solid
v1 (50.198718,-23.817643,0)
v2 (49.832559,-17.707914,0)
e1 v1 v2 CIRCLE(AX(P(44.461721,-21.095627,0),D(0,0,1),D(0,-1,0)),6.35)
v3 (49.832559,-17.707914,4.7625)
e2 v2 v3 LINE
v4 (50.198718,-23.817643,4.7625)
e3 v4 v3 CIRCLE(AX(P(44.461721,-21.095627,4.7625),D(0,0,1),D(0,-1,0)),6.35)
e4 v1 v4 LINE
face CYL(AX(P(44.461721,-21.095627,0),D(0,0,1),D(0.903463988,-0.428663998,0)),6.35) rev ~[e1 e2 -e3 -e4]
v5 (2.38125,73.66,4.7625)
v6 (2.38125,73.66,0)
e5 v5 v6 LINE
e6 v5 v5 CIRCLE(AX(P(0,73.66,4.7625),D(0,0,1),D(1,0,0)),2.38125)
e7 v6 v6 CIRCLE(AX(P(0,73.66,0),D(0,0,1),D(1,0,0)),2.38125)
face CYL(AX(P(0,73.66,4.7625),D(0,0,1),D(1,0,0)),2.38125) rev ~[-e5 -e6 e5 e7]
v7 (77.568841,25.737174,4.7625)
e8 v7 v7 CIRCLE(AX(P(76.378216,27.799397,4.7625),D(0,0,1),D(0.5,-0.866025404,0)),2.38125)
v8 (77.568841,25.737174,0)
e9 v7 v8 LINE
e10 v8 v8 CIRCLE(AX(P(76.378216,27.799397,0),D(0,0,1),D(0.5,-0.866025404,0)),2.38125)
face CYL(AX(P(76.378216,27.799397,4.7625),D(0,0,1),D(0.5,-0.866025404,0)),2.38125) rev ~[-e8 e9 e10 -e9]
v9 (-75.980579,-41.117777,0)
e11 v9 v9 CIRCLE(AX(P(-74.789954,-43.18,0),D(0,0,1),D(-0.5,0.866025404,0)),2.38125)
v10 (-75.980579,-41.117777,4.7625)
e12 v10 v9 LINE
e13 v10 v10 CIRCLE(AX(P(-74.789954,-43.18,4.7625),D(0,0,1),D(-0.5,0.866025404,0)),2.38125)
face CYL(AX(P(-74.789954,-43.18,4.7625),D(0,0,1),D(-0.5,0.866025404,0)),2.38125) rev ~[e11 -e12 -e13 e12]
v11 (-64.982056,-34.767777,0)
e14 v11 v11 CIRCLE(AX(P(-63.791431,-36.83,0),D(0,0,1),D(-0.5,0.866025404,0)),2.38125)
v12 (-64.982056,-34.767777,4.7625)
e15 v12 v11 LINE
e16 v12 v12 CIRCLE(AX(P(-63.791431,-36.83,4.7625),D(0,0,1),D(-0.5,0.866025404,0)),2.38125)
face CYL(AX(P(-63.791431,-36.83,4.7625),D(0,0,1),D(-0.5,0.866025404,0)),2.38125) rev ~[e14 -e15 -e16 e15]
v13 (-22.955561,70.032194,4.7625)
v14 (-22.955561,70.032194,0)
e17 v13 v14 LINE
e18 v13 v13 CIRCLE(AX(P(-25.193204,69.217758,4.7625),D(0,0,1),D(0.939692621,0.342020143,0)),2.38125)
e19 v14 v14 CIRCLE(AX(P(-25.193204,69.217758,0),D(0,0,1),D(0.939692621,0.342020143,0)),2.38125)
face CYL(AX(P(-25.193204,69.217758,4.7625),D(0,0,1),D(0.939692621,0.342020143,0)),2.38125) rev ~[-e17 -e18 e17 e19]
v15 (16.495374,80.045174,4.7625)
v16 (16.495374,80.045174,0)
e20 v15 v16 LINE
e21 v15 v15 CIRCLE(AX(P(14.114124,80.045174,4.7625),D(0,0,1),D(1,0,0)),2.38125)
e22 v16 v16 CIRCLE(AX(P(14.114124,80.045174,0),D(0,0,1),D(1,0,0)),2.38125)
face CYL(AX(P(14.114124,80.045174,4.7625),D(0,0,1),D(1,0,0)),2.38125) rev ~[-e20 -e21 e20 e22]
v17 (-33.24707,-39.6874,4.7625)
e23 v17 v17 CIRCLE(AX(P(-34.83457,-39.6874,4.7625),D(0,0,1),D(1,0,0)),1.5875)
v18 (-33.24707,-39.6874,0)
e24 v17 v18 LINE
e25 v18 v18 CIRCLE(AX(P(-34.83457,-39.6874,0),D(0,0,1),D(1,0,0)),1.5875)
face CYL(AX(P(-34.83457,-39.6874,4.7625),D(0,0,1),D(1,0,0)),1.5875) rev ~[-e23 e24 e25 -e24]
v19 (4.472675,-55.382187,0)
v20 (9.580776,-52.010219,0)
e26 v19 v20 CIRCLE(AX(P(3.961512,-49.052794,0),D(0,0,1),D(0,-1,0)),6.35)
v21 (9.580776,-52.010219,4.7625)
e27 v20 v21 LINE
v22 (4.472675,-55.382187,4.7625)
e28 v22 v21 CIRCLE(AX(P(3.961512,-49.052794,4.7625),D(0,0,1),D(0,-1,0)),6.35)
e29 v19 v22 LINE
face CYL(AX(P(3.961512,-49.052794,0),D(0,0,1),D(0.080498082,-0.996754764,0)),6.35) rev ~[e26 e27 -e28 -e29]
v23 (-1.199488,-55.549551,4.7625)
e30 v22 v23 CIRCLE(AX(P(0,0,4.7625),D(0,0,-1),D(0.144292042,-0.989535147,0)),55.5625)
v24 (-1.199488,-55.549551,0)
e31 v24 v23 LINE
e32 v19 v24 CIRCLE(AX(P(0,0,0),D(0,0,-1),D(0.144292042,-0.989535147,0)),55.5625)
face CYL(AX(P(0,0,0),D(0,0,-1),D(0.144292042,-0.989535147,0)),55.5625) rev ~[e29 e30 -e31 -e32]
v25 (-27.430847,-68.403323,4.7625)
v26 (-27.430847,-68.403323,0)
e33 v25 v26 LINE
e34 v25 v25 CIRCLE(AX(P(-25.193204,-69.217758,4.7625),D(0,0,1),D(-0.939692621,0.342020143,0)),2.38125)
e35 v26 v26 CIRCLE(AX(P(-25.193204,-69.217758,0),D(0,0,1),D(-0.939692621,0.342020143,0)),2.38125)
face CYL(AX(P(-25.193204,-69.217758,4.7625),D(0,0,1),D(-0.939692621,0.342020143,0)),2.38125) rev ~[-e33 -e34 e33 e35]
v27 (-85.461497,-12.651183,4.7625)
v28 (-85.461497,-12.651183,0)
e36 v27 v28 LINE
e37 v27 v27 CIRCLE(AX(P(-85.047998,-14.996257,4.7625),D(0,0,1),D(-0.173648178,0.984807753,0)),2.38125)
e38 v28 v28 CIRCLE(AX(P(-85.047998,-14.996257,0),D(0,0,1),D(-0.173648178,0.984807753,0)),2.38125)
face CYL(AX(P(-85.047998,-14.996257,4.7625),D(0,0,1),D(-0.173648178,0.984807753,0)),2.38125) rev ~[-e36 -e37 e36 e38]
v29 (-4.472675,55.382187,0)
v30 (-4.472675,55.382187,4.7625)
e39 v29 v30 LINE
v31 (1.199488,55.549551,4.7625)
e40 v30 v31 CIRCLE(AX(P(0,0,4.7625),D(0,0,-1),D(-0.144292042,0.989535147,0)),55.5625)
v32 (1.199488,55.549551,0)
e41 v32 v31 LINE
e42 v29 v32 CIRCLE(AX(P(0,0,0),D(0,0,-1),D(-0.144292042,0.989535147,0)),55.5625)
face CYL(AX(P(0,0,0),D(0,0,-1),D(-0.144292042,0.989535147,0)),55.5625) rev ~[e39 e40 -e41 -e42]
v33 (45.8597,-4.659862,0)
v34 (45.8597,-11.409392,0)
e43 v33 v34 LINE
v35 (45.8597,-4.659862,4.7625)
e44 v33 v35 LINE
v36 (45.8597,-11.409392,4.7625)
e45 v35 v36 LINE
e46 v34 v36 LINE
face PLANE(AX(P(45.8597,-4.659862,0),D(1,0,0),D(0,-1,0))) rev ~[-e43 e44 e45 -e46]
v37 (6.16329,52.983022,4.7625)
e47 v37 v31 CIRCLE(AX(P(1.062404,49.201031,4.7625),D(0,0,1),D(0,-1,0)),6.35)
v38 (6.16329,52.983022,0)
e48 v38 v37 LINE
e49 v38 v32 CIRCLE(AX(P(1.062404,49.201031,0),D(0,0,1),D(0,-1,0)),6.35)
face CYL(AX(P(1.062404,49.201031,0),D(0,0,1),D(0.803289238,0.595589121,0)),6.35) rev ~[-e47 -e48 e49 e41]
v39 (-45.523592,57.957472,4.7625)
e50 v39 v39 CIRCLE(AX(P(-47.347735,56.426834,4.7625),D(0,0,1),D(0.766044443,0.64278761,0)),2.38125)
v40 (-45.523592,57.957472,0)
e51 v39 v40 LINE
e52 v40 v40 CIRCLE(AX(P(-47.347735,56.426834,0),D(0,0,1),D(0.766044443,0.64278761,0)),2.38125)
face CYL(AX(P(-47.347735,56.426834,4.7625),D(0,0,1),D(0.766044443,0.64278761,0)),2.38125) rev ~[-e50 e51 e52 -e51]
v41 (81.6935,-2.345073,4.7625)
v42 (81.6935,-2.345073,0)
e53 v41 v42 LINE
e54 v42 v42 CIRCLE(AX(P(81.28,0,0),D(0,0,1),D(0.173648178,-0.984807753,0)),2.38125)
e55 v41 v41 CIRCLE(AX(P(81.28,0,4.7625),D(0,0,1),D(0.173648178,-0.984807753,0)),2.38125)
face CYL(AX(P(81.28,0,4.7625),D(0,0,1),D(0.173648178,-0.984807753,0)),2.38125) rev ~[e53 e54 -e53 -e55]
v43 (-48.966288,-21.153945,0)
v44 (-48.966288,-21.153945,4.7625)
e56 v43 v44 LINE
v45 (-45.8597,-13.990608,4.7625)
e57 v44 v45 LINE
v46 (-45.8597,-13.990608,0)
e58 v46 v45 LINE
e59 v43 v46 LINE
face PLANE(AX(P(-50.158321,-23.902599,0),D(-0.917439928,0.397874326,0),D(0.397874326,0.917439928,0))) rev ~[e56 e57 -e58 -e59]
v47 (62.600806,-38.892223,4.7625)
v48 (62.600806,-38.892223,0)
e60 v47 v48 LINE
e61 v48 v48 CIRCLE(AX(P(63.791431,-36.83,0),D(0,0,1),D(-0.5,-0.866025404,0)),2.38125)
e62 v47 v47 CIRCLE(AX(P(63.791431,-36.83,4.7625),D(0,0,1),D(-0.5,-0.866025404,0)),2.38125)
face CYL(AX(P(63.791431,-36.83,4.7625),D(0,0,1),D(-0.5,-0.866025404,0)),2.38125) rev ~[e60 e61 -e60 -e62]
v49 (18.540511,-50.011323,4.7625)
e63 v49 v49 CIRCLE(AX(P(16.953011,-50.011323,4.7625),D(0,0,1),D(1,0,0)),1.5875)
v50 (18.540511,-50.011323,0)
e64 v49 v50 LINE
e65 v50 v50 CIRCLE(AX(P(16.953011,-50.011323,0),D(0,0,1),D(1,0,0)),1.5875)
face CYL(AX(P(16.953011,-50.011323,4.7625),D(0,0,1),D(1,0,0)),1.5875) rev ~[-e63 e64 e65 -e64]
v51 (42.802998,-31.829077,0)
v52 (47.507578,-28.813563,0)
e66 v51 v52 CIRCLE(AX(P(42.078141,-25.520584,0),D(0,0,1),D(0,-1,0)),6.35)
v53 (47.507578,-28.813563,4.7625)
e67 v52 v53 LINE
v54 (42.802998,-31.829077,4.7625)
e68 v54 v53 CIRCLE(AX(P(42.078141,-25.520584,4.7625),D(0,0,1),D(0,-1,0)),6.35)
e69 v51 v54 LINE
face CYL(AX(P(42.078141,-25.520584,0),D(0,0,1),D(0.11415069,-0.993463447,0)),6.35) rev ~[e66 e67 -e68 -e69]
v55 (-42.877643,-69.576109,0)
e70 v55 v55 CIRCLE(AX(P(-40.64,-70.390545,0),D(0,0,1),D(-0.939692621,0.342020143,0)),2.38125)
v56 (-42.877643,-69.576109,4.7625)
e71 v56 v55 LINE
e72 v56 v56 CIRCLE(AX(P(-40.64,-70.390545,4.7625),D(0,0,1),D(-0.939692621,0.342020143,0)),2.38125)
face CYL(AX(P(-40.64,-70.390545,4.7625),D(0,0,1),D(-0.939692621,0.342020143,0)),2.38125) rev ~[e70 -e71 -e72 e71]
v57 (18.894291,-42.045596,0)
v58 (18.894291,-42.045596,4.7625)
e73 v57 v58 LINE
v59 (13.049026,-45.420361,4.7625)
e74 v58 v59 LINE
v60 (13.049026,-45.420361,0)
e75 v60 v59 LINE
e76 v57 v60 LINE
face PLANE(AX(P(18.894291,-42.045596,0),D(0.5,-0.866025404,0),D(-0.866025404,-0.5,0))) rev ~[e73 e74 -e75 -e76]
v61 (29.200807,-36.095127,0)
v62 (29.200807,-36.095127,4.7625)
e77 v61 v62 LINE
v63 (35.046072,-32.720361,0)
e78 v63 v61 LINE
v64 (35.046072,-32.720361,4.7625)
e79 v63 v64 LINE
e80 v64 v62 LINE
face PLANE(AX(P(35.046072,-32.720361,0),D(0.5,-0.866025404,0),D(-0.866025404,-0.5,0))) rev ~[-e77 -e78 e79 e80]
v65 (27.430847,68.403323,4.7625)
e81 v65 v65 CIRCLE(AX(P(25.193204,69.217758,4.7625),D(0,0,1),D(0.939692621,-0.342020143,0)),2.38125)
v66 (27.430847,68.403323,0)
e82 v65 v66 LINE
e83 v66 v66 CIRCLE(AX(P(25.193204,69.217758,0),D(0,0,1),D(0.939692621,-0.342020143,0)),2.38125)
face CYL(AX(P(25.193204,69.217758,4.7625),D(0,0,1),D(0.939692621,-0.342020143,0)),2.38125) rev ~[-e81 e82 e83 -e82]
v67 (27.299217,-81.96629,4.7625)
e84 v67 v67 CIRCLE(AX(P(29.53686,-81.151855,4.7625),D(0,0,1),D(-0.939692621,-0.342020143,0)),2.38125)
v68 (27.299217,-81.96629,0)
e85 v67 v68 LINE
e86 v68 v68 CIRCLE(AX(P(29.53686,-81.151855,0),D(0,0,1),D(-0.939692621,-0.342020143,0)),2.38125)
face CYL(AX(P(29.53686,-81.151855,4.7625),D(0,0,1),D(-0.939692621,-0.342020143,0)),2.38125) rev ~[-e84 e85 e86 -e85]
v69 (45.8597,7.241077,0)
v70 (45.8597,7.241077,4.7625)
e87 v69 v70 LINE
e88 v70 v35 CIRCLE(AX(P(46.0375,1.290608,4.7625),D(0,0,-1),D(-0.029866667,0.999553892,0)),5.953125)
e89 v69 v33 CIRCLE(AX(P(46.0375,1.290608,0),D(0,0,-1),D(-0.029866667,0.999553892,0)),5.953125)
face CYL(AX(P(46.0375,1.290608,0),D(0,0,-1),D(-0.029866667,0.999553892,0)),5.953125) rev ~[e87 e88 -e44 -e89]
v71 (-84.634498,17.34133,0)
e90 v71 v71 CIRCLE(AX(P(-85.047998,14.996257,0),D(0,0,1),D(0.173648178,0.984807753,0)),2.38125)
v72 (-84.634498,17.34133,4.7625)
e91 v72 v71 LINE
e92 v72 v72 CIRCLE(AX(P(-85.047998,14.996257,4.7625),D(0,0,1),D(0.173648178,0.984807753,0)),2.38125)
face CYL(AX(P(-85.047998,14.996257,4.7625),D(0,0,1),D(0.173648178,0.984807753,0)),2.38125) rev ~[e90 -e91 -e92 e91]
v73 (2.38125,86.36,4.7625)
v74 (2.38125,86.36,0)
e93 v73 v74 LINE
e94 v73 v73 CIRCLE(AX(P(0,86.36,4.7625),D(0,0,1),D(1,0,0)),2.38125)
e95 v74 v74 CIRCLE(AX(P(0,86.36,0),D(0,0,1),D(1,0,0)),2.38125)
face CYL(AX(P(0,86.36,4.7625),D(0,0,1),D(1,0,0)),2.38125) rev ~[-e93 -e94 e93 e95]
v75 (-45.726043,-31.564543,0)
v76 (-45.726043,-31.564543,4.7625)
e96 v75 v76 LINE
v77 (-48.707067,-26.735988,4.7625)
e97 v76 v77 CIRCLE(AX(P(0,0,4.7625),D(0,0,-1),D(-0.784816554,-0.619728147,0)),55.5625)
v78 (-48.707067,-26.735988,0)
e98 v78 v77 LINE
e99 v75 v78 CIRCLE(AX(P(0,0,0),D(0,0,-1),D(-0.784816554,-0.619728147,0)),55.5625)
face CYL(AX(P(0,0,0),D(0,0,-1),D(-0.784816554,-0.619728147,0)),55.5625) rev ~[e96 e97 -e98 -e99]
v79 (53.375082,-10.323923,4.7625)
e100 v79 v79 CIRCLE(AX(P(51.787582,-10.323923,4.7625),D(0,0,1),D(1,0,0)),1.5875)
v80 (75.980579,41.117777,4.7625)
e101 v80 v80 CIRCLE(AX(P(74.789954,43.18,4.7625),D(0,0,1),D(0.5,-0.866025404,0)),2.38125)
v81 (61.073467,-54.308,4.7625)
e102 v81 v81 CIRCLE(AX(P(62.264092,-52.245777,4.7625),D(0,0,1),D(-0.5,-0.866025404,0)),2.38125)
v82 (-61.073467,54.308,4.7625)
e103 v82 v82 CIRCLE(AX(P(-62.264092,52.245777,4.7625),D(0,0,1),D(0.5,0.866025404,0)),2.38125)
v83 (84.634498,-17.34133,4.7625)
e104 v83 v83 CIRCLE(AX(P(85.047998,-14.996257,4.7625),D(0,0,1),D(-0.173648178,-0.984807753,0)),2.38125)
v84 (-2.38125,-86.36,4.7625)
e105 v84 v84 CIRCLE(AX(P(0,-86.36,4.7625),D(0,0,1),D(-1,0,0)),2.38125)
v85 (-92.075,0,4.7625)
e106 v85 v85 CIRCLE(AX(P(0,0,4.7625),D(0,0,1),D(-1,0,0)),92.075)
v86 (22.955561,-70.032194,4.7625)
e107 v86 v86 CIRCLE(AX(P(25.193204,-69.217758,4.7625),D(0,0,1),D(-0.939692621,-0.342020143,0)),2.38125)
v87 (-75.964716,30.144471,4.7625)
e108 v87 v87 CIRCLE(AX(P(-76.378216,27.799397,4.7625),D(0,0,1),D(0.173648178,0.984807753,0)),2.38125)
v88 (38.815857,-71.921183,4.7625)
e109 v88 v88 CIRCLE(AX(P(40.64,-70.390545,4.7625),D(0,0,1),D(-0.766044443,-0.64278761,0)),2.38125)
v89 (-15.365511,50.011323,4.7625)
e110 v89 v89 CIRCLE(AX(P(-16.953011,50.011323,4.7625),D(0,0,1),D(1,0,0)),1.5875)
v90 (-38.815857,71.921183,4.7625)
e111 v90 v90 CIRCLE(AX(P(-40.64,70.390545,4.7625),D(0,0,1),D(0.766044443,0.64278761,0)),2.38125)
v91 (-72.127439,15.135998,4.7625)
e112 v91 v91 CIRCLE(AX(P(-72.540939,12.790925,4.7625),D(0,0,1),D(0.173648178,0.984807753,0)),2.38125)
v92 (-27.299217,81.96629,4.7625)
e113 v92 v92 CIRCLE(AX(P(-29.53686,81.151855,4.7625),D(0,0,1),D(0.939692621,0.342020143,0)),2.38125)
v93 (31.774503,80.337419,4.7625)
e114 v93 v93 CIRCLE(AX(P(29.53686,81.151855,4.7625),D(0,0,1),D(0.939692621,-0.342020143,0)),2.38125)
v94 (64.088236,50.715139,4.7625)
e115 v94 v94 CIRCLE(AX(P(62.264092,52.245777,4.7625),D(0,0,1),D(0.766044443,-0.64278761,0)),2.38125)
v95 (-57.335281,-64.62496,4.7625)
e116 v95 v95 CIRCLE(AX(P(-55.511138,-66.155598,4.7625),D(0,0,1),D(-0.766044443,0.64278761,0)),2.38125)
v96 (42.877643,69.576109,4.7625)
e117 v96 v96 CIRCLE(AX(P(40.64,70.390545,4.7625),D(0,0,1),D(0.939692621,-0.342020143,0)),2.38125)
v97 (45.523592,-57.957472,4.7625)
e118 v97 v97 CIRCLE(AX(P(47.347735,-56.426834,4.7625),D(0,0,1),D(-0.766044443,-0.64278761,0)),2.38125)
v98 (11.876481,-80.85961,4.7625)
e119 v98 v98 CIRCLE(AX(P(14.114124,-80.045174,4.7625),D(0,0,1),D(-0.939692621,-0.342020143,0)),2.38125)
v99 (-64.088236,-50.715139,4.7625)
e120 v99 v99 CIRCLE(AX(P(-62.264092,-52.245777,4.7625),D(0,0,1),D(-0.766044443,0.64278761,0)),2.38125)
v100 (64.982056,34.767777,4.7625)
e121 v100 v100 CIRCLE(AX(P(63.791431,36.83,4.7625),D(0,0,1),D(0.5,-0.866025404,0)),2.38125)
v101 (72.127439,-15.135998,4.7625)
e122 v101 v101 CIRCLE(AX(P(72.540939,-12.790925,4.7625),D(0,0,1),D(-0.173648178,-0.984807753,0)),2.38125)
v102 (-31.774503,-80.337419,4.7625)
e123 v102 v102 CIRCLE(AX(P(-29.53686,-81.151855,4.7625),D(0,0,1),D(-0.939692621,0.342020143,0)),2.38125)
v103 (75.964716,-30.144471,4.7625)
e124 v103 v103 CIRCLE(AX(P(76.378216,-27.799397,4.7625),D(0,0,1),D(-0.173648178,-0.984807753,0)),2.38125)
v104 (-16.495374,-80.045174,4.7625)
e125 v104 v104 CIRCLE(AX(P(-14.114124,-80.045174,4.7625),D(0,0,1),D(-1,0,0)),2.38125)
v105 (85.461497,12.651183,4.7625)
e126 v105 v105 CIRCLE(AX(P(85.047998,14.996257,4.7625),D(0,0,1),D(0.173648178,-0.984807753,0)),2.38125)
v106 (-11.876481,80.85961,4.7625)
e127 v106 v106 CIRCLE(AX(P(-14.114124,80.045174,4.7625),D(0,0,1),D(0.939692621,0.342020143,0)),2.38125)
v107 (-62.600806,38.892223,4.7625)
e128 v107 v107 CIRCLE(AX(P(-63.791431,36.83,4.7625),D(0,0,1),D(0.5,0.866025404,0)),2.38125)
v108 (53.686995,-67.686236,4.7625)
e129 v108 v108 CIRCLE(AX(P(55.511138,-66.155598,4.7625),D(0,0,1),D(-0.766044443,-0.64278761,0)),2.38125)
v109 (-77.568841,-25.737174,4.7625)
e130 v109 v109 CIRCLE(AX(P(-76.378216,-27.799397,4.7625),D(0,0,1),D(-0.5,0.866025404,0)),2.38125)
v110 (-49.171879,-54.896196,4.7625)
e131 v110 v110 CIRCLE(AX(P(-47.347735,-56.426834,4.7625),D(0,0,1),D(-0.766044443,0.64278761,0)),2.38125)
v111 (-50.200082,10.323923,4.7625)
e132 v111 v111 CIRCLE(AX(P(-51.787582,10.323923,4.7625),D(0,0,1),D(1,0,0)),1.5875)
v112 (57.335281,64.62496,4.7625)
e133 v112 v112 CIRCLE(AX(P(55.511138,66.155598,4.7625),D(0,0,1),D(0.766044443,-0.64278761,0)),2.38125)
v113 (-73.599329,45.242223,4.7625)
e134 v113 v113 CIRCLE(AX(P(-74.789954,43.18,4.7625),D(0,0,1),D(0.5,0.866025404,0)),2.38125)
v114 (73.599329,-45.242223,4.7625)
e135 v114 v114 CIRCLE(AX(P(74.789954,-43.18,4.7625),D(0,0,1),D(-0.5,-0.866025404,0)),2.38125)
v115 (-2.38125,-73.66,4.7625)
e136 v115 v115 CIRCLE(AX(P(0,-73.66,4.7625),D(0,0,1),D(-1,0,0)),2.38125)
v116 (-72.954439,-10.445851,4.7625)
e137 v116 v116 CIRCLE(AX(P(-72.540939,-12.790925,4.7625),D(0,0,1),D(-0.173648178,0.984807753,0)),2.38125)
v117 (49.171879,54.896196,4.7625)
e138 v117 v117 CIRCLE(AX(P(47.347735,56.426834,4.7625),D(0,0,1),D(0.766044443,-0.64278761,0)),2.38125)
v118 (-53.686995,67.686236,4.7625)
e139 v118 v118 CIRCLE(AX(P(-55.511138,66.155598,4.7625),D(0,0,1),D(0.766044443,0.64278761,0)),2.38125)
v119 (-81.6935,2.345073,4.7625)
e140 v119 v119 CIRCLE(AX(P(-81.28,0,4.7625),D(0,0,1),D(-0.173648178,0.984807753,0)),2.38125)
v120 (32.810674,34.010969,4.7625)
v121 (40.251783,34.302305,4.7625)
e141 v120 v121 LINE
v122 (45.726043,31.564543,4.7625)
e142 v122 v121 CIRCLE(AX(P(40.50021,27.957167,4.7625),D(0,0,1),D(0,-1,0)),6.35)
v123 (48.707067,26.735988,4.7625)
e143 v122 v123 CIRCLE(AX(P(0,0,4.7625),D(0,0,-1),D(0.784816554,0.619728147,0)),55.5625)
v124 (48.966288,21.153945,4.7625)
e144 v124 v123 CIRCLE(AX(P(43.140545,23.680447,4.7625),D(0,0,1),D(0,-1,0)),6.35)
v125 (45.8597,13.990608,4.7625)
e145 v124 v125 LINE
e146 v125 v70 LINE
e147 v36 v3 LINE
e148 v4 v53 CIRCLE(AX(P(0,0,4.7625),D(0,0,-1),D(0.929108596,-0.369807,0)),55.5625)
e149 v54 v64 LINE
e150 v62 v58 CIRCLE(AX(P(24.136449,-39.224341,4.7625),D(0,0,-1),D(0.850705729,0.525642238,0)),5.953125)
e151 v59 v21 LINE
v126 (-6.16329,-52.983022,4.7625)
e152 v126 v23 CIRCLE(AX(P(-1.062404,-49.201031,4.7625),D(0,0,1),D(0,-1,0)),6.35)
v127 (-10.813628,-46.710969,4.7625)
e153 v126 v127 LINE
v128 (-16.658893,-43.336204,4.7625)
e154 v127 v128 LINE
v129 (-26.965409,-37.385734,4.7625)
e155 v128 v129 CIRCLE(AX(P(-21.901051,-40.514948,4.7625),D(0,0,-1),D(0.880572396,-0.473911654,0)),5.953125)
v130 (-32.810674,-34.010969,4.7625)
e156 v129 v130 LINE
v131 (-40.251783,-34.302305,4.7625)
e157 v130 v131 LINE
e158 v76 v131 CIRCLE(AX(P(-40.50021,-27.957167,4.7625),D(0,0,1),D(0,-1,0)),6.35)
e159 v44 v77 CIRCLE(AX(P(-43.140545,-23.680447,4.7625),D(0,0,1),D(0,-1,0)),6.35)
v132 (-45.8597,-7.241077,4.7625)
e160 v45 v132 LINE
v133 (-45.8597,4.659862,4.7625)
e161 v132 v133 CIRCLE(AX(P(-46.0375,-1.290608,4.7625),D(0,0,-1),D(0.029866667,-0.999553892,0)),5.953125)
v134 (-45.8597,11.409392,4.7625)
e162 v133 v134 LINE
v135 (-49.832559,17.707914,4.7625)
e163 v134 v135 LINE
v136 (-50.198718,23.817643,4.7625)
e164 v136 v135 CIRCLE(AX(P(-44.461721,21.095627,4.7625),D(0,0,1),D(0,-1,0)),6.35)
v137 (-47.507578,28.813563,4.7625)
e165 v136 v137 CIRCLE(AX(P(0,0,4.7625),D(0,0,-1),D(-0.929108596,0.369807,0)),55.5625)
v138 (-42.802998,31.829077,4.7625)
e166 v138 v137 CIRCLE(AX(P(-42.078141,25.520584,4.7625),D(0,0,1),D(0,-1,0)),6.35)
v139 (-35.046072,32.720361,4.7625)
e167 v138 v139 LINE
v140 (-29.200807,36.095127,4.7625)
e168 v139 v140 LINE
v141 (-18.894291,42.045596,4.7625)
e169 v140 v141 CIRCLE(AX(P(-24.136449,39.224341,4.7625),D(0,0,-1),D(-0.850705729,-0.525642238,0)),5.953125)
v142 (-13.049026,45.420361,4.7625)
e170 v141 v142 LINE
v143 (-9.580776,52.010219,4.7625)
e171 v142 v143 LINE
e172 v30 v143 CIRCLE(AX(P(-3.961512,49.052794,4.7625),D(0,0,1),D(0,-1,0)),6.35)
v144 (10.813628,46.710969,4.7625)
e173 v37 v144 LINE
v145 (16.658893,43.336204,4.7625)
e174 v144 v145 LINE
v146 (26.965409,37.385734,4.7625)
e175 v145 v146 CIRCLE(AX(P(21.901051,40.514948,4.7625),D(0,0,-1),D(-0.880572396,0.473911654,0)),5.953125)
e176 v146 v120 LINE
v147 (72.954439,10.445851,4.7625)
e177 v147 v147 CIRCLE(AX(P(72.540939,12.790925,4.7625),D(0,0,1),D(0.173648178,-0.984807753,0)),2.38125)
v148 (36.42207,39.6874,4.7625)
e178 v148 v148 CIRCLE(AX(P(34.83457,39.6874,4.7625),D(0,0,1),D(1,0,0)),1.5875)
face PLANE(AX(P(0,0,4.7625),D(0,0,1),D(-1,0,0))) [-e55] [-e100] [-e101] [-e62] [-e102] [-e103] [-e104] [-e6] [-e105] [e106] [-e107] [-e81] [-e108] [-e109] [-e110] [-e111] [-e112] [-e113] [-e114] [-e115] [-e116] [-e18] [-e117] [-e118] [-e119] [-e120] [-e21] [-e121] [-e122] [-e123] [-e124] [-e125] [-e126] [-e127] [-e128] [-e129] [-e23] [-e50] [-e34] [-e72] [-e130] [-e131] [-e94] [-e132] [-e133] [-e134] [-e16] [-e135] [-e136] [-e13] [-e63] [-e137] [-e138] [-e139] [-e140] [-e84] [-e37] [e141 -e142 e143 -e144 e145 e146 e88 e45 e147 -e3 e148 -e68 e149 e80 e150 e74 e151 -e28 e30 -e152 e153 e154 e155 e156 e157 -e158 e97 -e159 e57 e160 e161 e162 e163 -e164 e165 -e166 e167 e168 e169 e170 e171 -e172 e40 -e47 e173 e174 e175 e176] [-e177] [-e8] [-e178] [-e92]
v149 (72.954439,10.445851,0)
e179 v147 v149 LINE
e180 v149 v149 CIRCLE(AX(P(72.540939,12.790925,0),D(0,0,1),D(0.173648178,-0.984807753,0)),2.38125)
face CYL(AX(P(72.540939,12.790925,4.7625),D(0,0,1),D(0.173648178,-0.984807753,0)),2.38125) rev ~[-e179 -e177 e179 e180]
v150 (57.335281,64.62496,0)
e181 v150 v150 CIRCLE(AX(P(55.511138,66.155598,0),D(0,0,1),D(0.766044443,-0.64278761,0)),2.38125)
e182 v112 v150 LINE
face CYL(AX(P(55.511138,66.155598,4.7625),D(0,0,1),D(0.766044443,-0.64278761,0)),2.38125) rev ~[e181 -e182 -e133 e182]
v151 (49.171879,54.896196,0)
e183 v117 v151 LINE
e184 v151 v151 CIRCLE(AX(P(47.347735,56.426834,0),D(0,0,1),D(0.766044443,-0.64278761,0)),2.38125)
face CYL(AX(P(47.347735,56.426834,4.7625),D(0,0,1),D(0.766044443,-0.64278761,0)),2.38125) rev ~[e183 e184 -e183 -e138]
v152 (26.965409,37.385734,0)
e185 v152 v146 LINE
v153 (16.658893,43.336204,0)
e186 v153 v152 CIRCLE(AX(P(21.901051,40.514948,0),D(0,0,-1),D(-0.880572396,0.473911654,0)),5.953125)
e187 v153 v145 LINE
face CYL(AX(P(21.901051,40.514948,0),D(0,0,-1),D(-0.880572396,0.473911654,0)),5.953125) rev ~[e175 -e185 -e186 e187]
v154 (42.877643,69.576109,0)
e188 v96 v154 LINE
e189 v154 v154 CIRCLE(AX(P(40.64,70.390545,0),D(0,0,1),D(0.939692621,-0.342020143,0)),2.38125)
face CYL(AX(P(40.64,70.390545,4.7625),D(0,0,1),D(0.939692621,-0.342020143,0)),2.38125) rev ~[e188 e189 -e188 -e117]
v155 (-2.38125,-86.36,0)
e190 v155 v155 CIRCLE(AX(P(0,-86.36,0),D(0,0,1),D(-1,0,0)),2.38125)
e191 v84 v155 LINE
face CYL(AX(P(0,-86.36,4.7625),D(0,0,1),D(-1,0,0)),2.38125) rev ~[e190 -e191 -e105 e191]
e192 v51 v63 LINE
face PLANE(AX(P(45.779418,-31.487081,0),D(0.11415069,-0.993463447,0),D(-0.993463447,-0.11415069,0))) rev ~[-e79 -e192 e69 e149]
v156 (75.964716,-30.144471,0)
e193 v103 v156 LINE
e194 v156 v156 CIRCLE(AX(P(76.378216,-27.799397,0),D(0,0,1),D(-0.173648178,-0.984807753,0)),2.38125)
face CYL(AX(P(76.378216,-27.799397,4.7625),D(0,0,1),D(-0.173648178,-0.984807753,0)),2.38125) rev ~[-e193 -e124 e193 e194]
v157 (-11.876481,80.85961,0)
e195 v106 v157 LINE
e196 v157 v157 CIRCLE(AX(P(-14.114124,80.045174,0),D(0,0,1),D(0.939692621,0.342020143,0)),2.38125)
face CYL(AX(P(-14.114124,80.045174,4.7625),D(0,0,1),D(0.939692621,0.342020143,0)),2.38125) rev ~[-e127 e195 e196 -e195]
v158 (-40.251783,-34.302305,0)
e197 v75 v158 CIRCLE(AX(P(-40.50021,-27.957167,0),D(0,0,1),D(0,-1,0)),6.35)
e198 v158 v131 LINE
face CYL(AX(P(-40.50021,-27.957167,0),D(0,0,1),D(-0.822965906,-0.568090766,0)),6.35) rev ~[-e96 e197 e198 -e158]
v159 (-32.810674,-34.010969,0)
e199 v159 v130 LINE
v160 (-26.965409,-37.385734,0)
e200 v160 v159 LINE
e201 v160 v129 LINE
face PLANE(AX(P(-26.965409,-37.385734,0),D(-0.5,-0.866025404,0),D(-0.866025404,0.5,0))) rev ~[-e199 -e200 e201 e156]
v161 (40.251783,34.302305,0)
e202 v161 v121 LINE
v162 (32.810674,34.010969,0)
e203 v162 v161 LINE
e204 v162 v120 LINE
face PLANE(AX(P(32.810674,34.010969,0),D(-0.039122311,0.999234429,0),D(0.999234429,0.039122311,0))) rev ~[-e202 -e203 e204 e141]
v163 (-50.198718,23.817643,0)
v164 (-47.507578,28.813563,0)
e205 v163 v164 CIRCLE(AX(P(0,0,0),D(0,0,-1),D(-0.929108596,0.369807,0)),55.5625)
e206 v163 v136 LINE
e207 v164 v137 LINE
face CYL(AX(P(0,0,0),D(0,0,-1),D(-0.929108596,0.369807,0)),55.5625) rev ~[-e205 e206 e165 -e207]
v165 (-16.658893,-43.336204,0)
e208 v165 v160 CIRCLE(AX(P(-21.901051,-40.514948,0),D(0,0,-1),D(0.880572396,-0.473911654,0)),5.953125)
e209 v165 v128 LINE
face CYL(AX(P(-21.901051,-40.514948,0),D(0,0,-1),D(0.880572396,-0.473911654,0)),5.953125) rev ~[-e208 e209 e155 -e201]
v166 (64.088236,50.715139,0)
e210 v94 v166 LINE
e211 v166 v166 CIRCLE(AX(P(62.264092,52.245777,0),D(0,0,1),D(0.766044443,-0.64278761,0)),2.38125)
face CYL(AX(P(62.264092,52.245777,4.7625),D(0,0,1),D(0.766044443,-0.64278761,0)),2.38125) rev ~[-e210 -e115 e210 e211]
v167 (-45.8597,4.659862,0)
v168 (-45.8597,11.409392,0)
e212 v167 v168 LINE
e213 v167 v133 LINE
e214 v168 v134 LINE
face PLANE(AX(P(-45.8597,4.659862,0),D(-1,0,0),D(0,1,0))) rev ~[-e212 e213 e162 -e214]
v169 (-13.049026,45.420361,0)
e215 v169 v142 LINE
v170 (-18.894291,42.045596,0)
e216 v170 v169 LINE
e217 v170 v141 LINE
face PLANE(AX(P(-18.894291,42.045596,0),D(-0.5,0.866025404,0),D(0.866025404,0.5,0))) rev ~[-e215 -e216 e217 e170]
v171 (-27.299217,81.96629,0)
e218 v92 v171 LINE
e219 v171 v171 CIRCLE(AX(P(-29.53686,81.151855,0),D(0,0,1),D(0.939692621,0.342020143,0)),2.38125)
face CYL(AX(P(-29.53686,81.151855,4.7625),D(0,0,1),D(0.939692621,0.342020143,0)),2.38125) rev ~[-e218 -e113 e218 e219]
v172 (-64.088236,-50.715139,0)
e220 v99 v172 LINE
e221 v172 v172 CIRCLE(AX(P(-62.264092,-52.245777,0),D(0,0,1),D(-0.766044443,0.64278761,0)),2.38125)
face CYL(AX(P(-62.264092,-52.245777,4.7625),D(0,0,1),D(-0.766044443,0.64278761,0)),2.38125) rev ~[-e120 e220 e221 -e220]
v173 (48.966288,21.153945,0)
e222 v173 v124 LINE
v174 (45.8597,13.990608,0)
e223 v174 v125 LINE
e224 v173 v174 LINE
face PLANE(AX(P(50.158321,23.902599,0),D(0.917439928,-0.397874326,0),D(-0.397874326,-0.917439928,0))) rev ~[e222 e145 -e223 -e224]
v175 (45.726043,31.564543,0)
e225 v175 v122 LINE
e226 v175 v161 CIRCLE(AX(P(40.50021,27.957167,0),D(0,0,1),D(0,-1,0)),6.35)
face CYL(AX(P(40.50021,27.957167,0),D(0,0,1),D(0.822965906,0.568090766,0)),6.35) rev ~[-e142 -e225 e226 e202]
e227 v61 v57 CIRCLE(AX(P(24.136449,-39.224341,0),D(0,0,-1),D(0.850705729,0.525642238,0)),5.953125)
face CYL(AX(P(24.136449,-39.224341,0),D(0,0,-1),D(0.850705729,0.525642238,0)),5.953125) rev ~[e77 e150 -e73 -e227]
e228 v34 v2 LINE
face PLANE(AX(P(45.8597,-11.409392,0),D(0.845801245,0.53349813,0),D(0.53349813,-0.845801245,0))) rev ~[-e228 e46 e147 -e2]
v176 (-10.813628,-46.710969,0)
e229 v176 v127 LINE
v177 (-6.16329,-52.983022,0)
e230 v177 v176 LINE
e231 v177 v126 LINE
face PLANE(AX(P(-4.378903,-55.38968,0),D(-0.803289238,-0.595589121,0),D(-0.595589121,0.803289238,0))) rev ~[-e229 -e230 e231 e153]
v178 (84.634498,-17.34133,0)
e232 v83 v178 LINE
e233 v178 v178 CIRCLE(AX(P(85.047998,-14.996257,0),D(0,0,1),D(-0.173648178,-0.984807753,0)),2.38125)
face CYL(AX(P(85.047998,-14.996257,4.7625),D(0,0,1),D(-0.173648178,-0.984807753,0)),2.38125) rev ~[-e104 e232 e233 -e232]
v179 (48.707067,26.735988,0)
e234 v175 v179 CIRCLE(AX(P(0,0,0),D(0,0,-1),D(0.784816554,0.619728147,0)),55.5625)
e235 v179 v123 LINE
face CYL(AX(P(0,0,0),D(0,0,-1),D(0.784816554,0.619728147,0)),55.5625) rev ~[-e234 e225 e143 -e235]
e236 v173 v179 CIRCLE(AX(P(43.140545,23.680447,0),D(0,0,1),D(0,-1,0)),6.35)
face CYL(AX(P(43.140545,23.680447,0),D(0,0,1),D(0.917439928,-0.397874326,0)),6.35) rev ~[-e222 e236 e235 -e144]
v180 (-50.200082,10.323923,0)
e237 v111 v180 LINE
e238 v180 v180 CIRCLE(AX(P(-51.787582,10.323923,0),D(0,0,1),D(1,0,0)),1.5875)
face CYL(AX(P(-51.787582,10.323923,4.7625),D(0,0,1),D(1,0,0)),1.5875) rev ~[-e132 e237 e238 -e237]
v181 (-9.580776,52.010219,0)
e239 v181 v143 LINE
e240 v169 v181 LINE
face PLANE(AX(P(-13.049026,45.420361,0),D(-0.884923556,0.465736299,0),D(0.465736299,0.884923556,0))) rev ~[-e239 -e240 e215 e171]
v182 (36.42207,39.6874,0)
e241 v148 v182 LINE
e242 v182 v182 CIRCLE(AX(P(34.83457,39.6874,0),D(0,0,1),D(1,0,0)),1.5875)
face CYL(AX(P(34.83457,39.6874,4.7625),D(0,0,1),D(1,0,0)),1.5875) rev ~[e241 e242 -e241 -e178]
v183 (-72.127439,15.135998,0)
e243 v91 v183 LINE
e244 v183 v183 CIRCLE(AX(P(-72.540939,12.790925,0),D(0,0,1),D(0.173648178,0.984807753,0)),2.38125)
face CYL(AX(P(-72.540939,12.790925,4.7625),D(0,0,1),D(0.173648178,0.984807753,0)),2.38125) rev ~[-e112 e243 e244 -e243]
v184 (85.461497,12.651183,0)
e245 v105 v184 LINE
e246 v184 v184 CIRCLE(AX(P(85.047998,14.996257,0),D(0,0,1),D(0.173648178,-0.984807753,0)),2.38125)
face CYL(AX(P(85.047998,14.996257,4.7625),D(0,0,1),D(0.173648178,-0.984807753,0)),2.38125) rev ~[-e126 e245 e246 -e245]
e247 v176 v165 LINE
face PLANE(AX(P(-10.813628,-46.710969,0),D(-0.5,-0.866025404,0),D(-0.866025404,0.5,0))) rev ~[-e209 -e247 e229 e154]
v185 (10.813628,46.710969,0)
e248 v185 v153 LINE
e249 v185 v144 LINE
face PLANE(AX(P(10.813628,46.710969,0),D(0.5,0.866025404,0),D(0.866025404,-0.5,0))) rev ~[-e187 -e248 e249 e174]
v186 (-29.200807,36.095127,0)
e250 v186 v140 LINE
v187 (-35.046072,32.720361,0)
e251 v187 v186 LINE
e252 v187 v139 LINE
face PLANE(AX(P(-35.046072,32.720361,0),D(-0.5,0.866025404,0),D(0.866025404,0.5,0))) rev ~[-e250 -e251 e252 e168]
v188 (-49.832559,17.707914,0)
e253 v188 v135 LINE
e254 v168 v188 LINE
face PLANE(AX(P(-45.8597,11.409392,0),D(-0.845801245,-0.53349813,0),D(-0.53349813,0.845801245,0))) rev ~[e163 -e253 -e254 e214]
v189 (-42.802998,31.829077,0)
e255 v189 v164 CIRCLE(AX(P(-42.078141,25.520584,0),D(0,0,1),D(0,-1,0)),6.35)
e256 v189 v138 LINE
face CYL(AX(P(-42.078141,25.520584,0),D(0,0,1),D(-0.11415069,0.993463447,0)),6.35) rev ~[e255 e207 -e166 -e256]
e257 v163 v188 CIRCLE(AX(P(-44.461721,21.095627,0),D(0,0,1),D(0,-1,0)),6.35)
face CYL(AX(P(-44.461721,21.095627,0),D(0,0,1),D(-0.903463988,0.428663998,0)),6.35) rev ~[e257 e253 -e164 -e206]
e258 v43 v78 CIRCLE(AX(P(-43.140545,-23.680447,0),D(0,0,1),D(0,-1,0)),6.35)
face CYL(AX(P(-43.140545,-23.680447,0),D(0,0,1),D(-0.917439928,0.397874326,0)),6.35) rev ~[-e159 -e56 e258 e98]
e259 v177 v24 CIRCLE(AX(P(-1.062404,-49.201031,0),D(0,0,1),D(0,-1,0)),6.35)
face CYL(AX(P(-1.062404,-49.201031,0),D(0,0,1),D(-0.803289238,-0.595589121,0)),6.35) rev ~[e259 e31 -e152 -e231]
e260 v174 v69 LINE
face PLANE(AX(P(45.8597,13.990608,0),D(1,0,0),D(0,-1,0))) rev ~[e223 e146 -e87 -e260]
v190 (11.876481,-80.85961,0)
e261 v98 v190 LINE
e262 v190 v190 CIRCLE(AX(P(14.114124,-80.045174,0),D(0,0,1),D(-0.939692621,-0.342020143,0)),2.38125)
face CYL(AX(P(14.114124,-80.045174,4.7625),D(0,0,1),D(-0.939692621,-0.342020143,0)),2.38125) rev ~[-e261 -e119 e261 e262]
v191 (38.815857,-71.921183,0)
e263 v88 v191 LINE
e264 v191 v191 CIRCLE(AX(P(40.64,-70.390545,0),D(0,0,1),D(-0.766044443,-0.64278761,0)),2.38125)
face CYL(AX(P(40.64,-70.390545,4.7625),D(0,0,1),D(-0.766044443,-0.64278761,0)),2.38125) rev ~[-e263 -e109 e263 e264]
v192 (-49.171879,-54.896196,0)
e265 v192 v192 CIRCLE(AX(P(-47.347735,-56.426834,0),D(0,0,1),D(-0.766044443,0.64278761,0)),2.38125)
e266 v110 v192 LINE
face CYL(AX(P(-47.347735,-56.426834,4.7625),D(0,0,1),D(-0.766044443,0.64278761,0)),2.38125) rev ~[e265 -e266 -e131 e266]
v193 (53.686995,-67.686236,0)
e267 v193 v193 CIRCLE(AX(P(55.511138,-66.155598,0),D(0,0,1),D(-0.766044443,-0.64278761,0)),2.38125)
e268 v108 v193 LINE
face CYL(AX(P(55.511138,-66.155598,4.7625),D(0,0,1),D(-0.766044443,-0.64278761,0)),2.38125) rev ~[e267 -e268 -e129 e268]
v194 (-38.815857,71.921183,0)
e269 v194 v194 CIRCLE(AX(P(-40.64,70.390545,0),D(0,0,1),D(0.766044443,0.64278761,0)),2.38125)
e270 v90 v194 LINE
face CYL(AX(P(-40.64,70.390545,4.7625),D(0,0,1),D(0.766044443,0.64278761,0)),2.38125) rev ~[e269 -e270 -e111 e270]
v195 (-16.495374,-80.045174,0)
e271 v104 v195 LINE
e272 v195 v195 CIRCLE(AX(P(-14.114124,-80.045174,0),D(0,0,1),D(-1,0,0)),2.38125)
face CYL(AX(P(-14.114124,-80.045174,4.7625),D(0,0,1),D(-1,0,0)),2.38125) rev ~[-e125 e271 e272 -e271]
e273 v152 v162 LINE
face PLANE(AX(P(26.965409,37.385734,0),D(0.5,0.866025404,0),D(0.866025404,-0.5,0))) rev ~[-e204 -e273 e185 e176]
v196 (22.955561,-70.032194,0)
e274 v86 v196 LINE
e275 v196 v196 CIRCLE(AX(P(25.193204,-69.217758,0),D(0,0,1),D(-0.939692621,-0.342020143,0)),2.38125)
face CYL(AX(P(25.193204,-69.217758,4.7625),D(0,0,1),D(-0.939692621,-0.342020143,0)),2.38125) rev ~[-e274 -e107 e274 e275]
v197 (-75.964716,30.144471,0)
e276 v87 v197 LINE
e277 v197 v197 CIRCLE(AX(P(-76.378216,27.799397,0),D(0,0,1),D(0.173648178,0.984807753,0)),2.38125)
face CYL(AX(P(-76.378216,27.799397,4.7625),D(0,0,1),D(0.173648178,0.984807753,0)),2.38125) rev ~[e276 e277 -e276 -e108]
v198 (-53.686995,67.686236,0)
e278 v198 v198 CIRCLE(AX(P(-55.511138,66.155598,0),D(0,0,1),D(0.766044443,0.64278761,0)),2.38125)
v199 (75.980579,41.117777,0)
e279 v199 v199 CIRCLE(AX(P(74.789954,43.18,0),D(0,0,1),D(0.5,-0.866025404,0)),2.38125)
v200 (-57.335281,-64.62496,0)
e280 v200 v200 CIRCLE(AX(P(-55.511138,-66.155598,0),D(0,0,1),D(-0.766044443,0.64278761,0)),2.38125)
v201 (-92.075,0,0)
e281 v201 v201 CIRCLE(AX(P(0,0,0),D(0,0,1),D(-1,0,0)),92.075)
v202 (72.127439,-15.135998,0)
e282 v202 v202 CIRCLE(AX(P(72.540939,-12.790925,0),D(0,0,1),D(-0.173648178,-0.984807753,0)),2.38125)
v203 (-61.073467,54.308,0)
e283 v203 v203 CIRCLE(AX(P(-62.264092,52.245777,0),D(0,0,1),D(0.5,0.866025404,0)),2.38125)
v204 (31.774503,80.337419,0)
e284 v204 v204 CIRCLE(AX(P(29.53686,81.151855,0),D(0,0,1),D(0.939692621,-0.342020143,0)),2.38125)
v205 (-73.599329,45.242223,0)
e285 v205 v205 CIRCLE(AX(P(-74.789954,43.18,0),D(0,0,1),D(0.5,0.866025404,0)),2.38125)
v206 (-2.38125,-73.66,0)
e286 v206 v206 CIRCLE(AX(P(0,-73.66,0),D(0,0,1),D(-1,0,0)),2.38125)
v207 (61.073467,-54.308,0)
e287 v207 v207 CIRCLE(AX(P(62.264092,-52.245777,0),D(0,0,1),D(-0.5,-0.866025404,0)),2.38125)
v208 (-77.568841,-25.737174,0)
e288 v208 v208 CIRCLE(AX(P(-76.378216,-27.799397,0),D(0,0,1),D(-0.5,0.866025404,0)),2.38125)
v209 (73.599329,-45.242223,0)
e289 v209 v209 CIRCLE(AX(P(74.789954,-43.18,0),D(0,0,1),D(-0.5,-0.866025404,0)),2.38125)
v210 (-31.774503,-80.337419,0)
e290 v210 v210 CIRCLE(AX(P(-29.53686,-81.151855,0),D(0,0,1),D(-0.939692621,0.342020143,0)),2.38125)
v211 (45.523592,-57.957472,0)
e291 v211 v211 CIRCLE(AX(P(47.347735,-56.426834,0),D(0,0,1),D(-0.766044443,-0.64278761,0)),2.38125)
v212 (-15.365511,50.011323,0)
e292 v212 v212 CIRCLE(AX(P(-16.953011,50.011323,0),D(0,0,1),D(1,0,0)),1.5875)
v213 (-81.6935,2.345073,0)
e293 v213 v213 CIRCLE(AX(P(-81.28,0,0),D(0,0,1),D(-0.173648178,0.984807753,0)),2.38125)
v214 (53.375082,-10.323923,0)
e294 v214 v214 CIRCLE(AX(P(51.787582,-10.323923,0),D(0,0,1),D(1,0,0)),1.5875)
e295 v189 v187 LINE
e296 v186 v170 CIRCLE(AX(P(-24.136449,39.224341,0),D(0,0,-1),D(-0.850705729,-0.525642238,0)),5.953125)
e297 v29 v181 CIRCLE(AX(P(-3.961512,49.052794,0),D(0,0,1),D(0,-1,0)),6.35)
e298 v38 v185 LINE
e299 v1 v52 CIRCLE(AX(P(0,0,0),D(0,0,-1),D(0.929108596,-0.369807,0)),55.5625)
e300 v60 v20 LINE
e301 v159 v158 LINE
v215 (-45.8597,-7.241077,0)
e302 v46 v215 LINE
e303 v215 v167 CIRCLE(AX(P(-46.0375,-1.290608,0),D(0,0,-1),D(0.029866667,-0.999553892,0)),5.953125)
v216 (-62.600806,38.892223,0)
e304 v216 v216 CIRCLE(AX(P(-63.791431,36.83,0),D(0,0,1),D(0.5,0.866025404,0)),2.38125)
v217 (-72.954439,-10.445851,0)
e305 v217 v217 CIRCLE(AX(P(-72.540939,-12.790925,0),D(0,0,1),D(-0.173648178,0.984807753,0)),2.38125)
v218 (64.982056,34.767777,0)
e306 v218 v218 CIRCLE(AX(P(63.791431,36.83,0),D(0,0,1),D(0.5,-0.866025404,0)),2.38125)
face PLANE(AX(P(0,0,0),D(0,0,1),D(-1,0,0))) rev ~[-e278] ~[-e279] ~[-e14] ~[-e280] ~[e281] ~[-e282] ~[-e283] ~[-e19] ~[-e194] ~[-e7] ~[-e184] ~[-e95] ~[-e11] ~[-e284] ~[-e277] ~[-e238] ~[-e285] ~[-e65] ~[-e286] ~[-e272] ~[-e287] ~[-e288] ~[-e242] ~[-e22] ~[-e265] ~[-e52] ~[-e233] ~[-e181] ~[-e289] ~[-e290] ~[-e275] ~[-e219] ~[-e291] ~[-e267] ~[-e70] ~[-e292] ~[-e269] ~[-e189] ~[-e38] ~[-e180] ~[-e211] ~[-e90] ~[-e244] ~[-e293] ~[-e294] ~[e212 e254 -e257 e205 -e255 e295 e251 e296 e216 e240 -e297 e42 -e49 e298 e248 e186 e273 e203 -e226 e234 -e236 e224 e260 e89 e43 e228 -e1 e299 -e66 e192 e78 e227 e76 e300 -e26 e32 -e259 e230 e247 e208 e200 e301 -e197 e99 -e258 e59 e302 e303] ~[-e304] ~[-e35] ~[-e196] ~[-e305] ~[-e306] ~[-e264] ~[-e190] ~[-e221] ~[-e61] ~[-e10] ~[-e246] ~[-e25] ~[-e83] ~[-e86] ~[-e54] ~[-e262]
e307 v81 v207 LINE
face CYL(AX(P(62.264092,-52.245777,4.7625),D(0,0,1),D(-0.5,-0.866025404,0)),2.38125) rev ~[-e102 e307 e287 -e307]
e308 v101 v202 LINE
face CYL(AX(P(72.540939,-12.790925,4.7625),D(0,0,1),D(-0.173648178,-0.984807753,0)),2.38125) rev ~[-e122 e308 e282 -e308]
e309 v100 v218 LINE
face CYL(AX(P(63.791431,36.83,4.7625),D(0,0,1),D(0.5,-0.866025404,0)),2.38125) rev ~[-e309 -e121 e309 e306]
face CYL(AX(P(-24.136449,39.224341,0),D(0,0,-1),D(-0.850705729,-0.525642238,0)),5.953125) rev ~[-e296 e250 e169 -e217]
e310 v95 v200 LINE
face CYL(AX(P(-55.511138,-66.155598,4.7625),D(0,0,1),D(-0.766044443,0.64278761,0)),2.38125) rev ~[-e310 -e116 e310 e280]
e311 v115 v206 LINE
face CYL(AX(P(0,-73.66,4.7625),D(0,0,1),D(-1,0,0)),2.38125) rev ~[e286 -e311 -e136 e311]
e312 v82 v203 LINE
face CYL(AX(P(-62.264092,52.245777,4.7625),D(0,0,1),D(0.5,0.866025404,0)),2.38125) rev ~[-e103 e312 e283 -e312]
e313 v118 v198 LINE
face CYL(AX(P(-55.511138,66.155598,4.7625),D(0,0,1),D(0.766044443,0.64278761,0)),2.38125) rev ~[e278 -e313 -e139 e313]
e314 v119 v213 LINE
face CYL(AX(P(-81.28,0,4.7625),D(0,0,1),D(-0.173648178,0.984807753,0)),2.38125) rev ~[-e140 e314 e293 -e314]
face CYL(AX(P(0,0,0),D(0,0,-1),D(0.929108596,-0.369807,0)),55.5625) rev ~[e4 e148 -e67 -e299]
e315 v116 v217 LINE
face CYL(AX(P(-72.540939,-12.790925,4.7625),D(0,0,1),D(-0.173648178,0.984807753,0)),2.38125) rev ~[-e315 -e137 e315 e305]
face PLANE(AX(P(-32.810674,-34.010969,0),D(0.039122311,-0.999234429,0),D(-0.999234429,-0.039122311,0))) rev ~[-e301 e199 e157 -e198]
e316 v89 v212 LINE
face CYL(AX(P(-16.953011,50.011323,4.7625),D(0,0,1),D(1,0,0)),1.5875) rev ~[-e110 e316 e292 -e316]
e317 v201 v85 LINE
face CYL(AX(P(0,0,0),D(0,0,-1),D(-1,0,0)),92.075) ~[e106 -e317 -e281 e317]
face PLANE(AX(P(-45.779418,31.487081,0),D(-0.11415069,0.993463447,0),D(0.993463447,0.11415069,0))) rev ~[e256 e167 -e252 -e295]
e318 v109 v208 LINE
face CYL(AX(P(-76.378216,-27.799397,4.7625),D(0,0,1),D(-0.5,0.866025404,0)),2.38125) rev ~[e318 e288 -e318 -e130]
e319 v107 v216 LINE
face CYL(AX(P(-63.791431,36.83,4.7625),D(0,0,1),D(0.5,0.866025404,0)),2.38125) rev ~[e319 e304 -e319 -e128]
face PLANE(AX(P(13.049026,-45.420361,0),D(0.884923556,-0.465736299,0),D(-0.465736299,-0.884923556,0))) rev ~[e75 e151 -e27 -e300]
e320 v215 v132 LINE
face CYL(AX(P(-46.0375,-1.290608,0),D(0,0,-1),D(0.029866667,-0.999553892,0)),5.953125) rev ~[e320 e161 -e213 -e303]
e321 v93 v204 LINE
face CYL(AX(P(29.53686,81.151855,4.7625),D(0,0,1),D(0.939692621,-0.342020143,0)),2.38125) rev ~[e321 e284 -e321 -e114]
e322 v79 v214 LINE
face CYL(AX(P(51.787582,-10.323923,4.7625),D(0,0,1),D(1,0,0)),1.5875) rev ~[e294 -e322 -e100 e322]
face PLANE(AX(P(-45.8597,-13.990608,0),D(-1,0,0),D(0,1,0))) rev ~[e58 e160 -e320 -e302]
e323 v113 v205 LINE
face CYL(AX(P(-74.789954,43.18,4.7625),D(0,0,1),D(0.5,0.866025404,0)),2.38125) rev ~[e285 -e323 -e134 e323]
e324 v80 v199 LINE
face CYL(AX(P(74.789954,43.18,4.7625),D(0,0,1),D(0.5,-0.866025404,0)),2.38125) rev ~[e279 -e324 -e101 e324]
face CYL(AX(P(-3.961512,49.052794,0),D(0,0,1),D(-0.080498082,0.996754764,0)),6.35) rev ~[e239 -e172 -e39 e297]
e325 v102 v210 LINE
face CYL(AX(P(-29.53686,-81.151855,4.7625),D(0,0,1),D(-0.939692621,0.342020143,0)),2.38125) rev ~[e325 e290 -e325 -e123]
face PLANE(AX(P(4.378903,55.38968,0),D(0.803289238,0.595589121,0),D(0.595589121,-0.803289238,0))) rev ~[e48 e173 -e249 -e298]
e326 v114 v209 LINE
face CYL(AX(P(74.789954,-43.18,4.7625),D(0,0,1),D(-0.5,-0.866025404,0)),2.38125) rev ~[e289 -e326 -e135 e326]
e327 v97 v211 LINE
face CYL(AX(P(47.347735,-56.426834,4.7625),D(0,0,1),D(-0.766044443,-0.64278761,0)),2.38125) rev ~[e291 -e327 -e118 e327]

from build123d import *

# Parameters (mm, degrees)
SKETCH1_R             = 92.075
BOSS_EXTRUDE1_DEPTH   = 4.7625
FILLET1_R             = 6.35
SKETCH4_R             = 1.5875
CUT_EXTRUDE1_DEPTH    = 131.30077765
SKETCH5_R             = 2.38125
CUT_EXTRUDE2_DEPTH    = 131.30077765
FRONTPATERNCOPY_COUNT = 18


with BuildPart() as part:
    # Sketch1 → Boss-Extrude1 (new body)
    with BuildSketch(Plane.XY):
        with Locations(Location((0, 0, 0), (0, 0, 180))):
            Circle(SKETCH1_R)
        with BuildLine():
            Line((-45.8597, 4.659861673), (-45.8597, 11.409392412))
            Line((-45.8597, 11.409392412), (-51.623596361, 20.547401417))
            ThreePointArc((-51.623596361, 20.547401417), (-49.007713262, 26.180822124), (-45.779418198, 31.487081093))
            Line((-45.779418198, 31.487081093), (-35.046071586, 32.720361416))
            Line((-35.046071586, 32.720361416), (-29.200806502, 36.095126785))
            ThreePointArc((-29.200806502, 36.095126785), (-27.113011458, 44.379898214), (-18.894291413, 42.045596046))
            Line((-18.894291413, 42.045596046), (-13.04902633, 45.420361416))
            Line((-13.04902633, 45.420361416), (-8.017226572, 54.981046592))
            ThreePointArc((-8.017226572, 54.981046592), (-1.830599579, 55.532335728), (4.378903018, 55.389679676))
            Line((4.378903018, 55.389679676), (10.813628414, 46.710969004))
            Line((10.813628414, 46.710969004), (16.658893498, 43.336203635))
            ThreePointArc((16.658893498, 43.336203635), (24.877613542, 45.670505803), (26.965408587, 37.385734374))
            Line((26.965408587, 37.385734374), (32.81067367, 34.010969004))
            Line((32.81067367, 34.010969004), (43.606369789, 34.433645175))
            ThreePointArc((43.606369789, 34.433645175), (47.177113682, 29.351513604), (50.158321216, 23.902598583))
            Line((50.158321216, 23.902598583), (45.8597, 13.990607588))
            Line((45.8597, 13.990607588), (45.8597, 7.241076849))
            ThreePointArc((45.8597, 7.241076849), (51.990625, 1.290607588), (45.8597, -4.659861673))
            Line((45.8597, -4.659861673), (45.8597, -11.409392412))
            Line((45.8597, -11.409392412), (51.623596361, -20.547401417))
            ThreePointArc((51.623596361, -20.547401417), (49.007713262, -26.180822124), (45.779418198, -31.487081093))
            Line((45.779418198, -31.487081093), (35.046071586, -32.720361416))
            Line((35.046071586, -32.720361416), (29.200806502, -36.095126785))
            ThreePointArc((29.200806502, -36.095126785), (27.113011458, -44.379898214), (18.894291413, -42.045596046))
            Line((18.894291413, -42.045596046), (13.04902633, -45.420361416))
            Line((13.04902633, -45.420361416), (8.017226572, -54.981046592))
            ThreePointArc((8.017226572, -54.981046592), (1.830599579, -55.532335728), (-4.378903018, -55.389679676))
            Line((-4.378903018, -55.389679676), (-10.813628414, -46.710969004))
            Line((-10.813628414, -46.710969004), (-16.658893498, -43.336203635))
            ThreePointArc((-16.658893498, -43.336203635), (-24.877613542, -45.670505803), (-26.965408587, -37.385734374))
            Line((-26.965408587, -37.385734374), (-32.81067367, -34.010969004))
            Line((-32.81067367, -34.010969004), (-43.606369789, -34.433645175))
            ThreePointArc((-43.606369789, -34.433645175), (-47.177113682, -29.351513604), (-50.158321216, -23.902598583))
            Line((-50.158321216, -23.902598583), (-45.8597, -13.990607588))
            Line((-45.8597, -13.990607588), (-45.8597, -7.241076849))
            ThreePointArc((-45.8597, -7.241076849), (-51.990625, -1.290607588), (-45.8597, 4.659861673))
        make_face(mode=Mode.SUBTRACT)
    extrude(amount=BOSS_EXTRUDE1_DEPTH)

    # Fillet1
    fillet1_edges = [part.edges().sort_by_distance(p)[0] for p in [
        (-43.606369789, -34.433645175, 2.38125),
        (-4.378903018, -55.389679676, 2.38125),
        (8.017226572, -54.981046592, 2.38125),
        (45.779418198, -31.487081093, 2.38125),
        (51.623596361, -20.547401417, 2.38125),
        (50.158321216, 23.902598583, 2.38125),
        (43.606369789, 34.433645175, 2.38125),
        (4.378903018, 55.389679676, 2.38125),
        (-8.017226572, 54.981046592, 2.38125),
        (-45.779418198, 31.487081093, 2.38125),
        (-51.623596361, 20.547401417, 2.38125),
        (-50.158321216, -23.902598583, 2.38125),
    ]]
    fillet(fillet1_edges, radius=FILLET1_R)

    # Sketch4 → Cut-Extrude1 (cut, through all)
    with BuildSketch(Plane.XY.offset(4.7625)):
        with Locations((-16.953011458, 50.011322779)):
            Circle(SKETCH4_R)
        with Locations((34.834570274, 39.687399983)):
            Circle(SKETCH4_R)
        with Locations((51.787581732, -10.323922796)):
            Circle(SKETCH4_R)
        with Locations((16.953011458, -50.011322779)):
            Circle(SKETCH4_R)
        with Locations((-34.834570274, -39.687399983)):
            Circle(SKETCH4_R)
        with Locations((-51.787581732, 10.323922796)):
            Circle(SKETCH4_R)
    extrude(amount=-CUT_EXTRUDE1_DEPTH, mode=Mode.SUBTRACT)

    # Sketch5 → Cut-Extrude2 (cut, through all)
    with BuildSketch(Plane.XY.offset(4.7625)):
        with Locations((0, 86.36)):
            Circle(SKETCH5_R)
        with Locations((0, 73.66)):
            Circle(SKETCH5_R)
        with Locations((14.114123881, 80.045174165)):
            Circle(SKETCH5_R)
    cut_extrude2 = extrude(amount=-CUT_EXTRUDE2_DEPTH, mode=Mode.SUBTRACT)

    # FrontPaternCopy: Cut-Extrude2 ×18 about axis
    frontpaterncopy_axis = Axis((0, 0, 0), (0, 0, 1))
    for i in range(1, FRONTPATERNCOPY_COUNT):
        add(cut_extrude2.rotate(frontpaterncopy_axis, i * 360 / FRONTPATERNCOPY_COUNT), mode=Mode.SUBTRACT)


solid = part.part
